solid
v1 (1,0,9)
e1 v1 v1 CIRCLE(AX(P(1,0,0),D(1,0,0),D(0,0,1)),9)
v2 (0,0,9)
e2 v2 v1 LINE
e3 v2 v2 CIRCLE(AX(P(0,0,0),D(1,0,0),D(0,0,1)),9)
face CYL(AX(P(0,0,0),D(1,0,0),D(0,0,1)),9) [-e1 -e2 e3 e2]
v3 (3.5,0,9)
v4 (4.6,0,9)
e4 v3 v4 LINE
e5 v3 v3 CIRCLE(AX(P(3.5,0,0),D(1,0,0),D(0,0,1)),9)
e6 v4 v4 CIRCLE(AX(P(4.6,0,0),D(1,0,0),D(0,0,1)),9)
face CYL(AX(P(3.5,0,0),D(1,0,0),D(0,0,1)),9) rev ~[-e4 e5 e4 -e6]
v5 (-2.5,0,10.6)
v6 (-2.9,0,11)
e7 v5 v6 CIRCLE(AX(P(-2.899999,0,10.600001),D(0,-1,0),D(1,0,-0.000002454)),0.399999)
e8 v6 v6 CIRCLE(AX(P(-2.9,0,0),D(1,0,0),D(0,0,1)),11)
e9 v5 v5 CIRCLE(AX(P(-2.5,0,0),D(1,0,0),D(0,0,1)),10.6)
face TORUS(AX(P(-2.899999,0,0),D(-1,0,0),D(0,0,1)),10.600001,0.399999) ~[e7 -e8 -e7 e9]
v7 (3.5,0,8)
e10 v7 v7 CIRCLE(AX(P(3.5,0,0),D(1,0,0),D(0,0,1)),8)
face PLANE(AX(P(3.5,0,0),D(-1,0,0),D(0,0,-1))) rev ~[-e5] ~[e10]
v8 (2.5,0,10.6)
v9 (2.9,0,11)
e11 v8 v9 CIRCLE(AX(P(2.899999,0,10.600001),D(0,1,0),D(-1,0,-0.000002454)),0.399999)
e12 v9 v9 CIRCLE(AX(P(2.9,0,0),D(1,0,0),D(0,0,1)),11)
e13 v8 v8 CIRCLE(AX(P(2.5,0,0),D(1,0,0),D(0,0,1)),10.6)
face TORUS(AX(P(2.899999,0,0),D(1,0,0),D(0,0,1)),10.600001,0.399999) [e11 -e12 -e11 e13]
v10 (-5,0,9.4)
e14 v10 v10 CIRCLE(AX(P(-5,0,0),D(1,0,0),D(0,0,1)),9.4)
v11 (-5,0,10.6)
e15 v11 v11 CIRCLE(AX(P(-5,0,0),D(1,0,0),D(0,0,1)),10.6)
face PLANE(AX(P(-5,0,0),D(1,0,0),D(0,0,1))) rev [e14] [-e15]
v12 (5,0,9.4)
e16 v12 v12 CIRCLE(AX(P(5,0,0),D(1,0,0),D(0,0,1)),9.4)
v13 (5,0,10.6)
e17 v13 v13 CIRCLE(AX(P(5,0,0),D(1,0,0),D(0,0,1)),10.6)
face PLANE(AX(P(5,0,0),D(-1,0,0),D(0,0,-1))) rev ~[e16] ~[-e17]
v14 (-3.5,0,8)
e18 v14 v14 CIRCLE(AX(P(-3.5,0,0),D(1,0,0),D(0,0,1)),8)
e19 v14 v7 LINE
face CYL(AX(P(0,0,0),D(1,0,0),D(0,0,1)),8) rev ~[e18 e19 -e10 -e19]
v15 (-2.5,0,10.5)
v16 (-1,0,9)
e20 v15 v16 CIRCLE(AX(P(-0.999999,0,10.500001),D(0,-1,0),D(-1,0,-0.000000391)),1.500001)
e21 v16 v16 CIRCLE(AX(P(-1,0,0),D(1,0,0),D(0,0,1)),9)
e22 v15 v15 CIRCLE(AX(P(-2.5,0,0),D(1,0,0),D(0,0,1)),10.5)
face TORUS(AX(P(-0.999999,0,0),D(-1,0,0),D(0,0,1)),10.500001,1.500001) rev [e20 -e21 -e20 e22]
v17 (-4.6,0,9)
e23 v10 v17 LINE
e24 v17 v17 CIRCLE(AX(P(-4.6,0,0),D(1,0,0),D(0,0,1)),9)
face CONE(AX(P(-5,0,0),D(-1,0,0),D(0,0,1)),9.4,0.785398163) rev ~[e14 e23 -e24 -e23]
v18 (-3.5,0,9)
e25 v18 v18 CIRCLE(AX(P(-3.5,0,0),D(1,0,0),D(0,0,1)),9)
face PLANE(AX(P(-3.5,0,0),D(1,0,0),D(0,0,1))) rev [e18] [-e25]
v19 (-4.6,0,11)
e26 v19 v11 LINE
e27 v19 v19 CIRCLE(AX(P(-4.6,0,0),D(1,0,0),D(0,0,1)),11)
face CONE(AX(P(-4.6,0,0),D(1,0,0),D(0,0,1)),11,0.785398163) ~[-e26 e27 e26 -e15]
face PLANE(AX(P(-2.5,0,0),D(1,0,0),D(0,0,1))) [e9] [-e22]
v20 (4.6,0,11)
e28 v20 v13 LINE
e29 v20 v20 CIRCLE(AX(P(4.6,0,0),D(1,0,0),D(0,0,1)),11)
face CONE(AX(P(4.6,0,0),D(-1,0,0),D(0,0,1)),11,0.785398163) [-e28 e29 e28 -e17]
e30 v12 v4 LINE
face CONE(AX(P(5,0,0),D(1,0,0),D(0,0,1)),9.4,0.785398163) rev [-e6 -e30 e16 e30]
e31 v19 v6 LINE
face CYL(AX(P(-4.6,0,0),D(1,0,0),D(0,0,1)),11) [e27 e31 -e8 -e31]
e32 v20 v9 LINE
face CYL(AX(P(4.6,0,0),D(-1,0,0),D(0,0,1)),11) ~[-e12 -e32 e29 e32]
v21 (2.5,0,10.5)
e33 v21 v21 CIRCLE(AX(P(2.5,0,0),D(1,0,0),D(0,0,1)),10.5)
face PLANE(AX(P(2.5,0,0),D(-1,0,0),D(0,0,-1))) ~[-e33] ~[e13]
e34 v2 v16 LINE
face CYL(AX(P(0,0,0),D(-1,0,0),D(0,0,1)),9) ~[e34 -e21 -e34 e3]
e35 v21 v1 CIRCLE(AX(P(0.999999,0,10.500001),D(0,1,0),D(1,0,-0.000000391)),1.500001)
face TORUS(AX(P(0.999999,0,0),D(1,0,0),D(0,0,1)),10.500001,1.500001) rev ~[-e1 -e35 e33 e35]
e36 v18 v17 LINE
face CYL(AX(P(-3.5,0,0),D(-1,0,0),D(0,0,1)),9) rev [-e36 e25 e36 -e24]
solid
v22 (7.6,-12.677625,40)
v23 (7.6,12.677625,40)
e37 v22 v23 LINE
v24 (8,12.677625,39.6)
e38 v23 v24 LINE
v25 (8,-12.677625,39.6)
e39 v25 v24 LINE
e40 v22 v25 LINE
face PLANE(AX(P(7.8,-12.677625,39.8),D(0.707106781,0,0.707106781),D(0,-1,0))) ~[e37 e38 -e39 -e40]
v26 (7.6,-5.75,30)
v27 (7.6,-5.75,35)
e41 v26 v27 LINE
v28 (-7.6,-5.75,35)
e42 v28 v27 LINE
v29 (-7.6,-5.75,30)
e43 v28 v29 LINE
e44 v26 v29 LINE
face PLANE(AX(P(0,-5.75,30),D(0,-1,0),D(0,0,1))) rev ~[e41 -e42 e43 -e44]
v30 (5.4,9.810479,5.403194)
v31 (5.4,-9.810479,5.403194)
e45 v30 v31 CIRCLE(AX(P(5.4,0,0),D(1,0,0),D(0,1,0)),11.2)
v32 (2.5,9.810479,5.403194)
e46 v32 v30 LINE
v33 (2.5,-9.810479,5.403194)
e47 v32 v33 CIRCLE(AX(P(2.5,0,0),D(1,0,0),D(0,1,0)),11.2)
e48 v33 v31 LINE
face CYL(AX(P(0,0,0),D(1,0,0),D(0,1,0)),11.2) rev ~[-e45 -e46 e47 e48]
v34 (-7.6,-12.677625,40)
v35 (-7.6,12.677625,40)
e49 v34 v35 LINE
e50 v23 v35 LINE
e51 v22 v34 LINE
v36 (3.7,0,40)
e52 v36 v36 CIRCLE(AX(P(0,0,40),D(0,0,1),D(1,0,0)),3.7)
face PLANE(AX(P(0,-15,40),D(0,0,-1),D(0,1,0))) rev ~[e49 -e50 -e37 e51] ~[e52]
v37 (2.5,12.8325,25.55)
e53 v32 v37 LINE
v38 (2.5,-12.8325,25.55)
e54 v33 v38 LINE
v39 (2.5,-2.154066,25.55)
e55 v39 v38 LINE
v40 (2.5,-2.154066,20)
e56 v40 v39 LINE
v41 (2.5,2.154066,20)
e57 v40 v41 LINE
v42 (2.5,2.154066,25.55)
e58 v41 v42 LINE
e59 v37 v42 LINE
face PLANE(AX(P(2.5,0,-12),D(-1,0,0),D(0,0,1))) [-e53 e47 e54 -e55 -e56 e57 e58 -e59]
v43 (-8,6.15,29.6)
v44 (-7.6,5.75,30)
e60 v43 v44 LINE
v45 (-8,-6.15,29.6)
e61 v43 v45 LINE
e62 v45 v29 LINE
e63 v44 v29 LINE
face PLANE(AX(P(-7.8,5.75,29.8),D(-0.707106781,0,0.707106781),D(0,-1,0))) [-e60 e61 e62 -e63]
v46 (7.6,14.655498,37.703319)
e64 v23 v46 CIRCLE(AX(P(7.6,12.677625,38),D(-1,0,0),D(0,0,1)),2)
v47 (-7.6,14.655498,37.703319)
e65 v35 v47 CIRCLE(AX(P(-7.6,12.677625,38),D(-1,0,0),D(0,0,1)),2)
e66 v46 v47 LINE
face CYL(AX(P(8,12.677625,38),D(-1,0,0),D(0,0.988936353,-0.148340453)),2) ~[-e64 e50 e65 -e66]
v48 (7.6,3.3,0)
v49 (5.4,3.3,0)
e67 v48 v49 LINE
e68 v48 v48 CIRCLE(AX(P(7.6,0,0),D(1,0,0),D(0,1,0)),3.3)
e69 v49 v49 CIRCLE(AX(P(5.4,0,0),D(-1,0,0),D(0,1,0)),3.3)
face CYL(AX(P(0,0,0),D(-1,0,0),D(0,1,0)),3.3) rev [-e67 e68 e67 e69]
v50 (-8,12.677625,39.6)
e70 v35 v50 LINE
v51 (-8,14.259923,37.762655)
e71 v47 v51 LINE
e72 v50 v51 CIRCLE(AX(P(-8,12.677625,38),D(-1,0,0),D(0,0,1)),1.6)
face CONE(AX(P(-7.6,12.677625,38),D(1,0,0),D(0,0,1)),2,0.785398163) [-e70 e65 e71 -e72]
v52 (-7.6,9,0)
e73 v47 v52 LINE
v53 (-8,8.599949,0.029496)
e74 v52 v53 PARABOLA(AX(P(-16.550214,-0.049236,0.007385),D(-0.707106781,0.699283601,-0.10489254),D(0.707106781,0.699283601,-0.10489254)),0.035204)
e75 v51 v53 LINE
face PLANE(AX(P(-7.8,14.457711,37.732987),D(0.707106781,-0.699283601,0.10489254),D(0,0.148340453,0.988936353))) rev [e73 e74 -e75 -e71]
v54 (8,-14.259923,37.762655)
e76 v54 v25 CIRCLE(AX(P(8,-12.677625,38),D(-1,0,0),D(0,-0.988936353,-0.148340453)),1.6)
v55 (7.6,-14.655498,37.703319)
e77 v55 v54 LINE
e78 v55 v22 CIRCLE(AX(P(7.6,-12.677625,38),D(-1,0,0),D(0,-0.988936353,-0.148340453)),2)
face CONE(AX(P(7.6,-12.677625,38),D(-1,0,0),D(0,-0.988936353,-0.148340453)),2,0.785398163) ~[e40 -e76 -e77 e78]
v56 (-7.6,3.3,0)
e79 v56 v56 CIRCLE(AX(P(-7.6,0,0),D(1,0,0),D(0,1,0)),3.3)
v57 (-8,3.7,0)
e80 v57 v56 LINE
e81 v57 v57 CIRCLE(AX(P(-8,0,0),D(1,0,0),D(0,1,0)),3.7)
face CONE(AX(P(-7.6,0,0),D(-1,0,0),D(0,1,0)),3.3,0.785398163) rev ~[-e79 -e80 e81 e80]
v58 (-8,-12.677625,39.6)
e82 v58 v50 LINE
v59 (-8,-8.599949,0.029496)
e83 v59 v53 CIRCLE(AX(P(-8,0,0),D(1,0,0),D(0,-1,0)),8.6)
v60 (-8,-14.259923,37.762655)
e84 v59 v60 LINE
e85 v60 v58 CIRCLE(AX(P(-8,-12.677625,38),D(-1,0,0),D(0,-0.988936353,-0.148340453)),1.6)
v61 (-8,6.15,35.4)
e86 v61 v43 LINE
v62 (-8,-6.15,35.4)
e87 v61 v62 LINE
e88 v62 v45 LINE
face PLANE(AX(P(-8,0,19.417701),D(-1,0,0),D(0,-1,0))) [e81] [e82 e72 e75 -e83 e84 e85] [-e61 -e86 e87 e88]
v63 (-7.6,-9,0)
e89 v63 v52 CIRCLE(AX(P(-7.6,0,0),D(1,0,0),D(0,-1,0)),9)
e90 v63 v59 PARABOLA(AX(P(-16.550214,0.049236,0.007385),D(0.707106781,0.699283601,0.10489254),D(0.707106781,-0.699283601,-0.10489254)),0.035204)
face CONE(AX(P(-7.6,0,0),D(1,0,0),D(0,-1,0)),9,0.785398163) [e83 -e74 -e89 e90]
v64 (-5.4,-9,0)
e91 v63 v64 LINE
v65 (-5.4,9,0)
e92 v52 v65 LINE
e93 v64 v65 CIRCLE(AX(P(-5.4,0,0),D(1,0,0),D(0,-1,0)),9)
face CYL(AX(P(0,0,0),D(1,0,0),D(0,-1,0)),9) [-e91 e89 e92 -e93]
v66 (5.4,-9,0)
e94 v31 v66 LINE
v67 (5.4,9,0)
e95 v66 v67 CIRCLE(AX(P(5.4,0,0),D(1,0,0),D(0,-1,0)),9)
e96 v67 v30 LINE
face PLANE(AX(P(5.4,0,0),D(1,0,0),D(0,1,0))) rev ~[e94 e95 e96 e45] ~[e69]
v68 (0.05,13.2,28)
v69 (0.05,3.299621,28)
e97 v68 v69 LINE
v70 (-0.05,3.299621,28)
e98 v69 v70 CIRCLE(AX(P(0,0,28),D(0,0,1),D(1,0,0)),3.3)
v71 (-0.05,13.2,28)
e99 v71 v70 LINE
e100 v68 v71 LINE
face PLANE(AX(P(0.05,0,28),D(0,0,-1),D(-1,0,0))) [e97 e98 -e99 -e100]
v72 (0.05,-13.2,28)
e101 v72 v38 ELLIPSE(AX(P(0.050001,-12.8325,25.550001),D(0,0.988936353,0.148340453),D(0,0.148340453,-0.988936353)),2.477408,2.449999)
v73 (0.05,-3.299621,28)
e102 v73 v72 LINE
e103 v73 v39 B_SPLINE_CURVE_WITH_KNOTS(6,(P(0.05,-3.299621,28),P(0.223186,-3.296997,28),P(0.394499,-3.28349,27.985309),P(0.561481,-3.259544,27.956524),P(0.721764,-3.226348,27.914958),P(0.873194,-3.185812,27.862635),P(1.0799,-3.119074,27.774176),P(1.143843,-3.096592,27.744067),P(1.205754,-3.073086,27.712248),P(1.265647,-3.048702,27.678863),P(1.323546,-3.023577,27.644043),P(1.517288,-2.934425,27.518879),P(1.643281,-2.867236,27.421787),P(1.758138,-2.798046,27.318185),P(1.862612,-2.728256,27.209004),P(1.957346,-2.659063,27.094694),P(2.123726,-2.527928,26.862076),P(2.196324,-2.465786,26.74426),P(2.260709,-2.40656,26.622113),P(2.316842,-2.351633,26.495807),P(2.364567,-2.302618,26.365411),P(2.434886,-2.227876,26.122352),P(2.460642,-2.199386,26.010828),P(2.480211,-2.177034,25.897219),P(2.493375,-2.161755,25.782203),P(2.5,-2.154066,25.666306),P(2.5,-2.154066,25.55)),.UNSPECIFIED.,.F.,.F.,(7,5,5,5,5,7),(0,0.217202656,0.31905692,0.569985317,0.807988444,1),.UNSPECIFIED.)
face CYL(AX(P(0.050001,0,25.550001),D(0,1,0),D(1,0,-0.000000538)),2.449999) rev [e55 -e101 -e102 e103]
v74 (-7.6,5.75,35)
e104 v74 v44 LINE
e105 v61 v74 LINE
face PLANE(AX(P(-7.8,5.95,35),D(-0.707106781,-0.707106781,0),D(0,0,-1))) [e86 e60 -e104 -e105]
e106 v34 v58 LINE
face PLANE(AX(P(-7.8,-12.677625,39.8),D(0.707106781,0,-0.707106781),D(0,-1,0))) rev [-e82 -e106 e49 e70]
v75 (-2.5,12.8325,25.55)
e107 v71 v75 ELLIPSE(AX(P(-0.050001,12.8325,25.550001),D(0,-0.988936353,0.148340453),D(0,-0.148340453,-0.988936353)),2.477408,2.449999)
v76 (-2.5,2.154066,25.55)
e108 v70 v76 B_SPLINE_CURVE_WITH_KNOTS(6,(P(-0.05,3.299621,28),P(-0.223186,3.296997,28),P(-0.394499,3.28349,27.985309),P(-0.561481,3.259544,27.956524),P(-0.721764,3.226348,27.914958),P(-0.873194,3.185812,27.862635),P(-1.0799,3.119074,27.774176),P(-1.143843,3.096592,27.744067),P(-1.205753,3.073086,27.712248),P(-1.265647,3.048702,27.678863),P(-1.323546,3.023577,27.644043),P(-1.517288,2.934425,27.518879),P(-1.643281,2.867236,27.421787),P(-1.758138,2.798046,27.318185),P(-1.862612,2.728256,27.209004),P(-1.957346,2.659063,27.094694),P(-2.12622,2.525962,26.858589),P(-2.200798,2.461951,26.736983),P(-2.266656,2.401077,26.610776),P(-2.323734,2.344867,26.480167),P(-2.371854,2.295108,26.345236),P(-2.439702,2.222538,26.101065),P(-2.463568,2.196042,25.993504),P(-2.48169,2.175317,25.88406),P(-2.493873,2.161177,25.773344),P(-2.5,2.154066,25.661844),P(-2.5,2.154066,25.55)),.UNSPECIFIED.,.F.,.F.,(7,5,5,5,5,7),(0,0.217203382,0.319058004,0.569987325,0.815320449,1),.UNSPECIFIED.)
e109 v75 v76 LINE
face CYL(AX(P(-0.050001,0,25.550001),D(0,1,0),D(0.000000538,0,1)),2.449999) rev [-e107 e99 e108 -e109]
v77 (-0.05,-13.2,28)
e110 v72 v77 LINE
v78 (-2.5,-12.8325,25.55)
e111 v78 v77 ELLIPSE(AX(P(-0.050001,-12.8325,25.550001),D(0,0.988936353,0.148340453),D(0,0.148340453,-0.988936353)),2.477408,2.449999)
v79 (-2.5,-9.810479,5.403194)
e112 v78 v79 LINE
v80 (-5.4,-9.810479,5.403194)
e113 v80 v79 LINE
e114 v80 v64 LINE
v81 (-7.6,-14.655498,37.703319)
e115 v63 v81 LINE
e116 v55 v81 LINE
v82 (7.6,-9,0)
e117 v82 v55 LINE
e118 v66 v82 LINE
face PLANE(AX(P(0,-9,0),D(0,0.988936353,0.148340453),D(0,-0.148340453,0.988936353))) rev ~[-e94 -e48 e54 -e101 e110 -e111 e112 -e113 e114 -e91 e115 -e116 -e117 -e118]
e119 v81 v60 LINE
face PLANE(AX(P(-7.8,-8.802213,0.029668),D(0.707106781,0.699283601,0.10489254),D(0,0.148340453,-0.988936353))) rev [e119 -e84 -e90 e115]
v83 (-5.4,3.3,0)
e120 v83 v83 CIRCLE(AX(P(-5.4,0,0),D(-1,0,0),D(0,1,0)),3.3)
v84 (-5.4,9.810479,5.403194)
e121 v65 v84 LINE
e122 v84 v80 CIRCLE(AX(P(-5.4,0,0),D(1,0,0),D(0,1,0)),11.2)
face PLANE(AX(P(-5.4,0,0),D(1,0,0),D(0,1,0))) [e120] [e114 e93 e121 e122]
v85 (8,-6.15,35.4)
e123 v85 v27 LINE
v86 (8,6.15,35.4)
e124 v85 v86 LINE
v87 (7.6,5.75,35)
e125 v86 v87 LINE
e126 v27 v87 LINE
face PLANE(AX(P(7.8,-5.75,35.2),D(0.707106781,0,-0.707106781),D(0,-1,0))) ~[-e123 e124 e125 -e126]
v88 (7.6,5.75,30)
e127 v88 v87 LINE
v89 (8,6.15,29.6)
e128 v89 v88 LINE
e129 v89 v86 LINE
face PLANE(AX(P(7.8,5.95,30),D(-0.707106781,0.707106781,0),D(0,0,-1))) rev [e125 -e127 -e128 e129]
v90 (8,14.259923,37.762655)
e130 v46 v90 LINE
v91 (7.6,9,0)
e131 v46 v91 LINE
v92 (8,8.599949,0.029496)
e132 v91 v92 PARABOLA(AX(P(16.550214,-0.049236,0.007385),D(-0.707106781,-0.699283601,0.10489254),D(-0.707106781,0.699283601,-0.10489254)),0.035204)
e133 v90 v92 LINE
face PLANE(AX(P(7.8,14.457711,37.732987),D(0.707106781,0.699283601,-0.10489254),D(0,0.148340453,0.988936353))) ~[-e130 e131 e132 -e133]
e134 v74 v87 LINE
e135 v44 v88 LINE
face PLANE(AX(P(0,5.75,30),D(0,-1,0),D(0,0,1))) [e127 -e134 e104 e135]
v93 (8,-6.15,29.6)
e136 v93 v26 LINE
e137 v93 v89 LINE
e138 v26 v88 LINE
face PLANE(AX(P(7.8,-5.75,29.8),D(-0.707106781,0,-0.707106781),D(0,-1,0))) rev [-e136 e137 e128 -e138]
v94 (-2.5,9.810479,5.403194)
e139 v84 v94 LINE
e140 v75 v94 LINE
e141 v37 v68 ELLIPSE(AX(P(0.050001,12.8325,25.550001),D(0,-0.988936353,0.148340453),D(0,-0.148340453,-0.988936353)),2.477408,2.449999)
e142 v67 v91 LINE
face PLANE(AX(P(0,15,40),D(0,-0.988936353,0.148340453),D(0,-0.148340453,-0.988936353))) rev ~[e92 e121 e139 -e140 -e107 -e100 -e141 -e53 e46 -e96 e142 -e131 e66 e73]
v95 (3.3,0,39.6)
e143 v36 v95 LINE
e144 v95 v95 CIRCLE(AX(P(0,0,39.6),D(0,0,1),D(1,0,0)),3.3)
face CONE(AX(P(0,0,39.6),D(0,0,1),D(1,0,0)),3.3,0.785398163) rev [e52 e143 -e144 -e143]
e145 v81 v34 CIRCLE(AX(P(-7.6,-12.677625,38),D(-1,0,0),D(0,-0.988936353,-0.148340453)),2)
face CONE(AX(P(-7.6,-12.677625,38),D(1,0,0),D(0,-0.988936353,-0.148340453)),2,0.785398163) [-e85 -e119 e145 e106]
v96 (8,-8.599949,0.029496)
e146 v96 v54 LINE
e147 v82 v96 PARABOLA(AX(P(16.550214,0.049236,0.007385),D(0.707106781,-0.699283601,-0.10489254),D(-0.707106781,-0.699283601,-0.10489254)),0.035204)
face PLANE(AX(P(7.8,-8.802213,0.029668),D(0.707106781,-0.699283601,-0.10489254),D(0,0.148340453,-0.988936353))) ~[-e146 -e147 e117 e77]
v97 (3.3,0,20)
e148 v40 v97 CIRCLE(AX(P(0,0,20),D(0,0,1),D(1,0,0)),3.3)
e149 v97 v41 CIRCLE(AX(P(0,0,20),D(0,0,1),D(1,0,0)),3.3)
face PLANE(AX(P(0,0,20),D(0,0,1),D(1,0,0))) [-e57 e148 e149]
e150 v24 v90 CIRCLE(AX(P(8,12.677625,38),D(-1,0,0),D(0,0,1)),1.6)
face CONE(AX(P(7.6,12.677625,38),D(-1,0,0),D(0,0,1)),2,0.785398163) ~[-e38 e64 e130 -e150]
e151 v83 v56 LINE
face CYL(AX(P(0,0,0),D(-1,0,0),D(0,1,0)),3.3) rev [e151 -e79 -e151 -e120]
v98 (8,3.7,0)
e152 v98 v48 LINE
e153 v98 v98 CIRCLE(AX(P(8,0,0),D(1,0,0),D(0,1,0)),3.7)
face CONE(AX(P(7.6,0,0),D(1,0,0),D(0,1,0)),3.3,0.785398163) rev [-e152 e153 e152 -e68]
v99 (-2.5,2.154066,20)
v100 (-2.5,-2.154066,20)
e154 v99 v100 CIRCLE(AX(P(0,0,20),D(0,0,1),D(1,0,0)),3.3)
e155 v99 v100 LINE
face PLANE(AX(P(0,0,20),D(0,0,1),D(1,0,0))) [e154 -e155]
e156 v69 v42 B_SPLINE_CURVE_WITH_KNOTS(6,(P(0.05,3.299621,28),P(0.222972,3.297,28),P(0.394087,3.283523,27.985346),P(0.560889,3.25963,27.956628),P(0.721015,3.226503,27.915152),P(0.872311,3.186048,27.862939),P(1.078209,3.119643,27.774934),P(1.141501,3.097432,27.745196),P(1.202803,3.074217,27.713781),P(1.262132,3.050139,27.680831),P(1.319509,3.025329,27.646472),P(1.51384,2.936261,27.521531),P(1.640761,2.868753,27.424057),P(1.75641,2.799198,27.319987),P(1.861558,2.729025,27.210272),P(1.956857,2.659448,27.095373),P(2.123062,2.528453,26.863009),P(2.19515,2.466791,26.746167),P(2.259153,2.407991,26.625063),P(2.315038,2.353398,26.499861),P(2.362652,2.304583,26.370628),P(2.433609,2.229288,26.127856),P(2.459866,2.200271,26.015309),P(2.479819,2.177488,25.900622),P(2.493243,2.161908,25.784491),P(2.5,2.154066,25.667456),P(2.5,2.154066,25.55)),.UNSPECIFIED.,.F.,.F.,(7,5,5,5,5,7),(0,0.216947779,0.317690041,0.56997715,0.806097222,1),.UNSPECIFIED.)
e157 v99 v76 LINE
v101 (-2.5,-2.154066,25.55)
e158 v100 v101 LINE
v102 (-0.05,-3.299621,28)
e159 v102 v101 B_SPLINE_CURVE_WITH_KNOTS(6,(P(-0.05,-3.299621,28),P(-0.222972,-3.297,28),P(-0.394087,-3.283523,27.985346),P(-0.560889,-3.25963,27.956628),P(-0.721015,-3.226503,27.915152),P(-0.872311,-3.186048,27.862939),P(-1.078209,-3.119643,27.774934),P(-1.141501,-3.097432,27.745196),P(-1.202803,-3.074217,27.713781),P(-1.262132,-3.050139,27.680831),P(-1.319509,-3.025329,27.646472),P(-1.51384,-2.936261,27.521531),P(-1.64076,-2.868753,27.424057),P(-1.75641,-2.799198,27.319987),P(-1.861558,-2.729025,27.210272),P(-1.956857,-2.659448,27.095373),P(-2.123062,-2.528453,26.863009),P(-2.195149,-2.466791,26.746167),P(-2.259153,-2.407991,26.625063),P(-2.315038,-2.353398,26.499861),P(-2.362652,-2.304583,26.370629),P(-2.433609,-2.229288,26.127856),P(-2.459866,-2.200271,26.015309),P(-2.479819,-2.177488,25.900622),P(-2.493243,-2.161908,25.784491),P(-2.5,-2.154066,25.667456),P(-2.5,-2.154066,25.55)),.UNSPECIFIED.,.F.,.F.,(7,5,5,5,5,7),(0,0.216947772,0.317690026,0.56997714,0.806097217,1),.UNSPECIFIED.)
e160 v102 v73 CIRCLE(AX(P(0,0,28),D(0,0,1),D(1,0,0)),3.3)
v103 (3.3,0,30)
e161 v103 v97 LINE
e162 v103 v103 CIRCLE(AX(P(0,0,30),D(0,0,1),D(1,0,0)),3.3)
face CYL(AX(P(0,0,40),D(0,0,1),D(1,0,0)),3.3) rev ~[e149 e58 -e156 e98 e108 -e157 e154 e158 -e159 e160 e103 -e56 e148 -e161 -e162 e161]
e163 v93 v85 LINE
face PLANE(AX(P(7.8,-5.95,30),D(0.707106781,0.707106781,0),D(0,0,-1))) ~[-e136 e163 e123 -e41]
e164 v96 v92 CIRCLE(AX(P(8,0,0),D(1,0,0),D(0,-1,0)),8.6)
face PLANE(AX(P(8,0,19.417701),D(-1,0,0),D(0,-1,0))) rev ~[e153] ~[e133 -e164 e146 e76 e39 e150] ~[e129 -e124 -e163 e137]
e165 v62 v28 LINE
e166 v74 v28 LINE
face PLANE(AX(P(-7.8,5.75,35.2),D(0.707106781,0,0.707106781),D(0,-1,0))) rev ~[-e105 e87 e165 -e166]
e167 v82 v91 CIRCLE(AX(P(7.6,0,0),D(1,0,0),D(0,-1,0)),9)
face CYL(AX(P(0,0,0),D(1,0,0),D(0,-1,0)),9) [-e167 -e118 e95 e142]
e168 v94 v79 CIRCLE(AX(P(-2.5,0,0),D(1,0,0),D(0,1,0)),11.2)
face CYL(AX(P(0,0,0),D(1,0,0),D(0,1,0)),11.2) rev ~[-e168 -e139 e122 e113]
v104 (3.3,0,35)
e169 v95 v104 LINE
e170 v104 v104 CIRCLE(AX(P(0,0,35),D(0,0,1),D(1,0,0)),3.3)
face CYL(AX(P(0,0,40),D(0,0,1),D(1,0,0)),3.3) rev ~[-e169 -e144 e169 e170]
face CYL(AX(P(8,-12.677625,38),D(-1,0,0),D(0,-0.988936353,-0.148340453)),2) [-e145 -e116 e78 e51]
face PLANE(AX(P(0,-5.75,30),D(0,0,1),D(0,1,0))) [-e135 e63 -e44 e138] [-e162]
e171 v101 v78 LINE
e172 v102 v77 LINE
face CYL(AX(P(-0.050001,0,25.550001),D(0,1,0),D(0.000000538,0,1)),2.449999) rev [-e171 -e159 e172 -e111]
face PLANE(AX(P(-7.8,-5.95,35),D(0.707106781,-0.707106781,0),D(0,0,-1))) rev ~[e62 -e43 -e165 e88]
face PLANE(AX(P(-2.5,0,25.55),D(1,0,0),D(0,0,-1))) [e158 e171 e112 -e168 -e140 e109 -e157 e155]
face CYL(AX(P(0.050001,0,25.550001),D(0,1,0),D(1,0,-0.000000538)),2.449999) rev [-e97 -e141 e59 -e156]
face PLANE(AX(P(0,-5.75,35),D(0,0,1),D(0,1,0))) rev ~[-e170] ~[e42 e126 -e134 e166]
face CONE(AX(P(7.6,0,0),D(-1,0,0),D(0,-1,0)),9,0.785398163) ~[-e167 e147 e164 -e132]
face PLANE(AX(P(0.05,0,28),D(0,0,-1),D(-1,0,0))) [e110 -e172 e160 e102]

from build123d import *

# Parameters (mm, degrees)
SKETCH002_R          = 3.3
PAD_DEPTH            = 8
POCKET_DEPTH         = 15.001
POCKET_DEPTH_BACK    = -15.001
SKETCH003_R          = 11.2
POCKET001_DEPTH      = 5.4
SKETCH004_R          = 3.3
POCKET002_DEPTH      = 20
SKETCH005_W          = 11.5
SKETCH005_H          = 5
POCKET003_DEPTH      = 8.001
POCKET003_DEPTH_BACK = -8.001
FILLET_R             = 2
CHAMFER_SIZE         = 0.4


with BuildPart() as sheave:
    # Sketch → Revolution (revolve)
    with BuildSketch(Plane.XZ):
        with BuildLine():
            Line((0, 8), (-3.5, 8))
            Line((-3.5, 8), (-3.5, 9))
            Line((-3.5, 9), (-4.6, 9))
            Line((-5, 9.4), (-4.6, 9))
            Line((-5, 9.4), (-5, 10.6))
            Line((-4.6, 11), (-5, 10.6))
            Line((-4.6, 11), (-2.9, 11))
            ThreePointArc((-2.5, 10.6), (-2.617157, 10.882843), (-2.9, 11))
            Line((-2.5, 10.6), (-2.5, 10.5))
            ThreePointArc((-2.5, 10.5), (-2.06066, 9.43934), (-1, 9))
            Line((0, 9), (-1, 9))
            Line((0, 9), (0, 8))
        make_face()
    revolution = revolve(axis=Axis((0, 0, 0), (1, 0, 0)))

    # Mirrored: Revolution across Sketch V_Axis
    add(revolution.mirror(Plane(origin=(0, 0, 0), x_dir=(0, -1, 0), z_dir=(1, 0, 0))))


with BuildPart() as bracket:
    # Sketch002 → Pad (new body, symmetric)
    with BuildSketch(Plane.YZ):
        with BuildLine():
            Line((-9, 0), (-15, 40))
            Line((-15, 40), (15, 40))
            Line((15, 40), (9, 0))
            ThreePointArc((-9, 0), (0, -9), (9, 0))
        make_face()
        Circle(SKETCH002_R, mode=Mode.SUBTRACT)
    extrude(amount=PAD_DEPTH, both=True)

    # Sketch001 → Pocket (cut, two sides)
    with BuildSketch(Plane.XZ) as pocket_sk:
        with BuildLine():
            Line((-2.5, 25.55), (-2.5, -12))
            Line((-2.5, -12), (2.5, -12))
            Line((2.5, -12), (2.5, 25.55))
            ThreePointArc((2.5, 25.55), (1.782412, 27.282412), (0.05, 28))
            Line((0.05, 28), (-0.05, 28))
            ThreePointArc((-0.05, 28), (-1.782412, 27.282412), (-2.5, 25.55))
        make_face()
    extrude(amount=-POCKET_DEPTH, mode=Mode.SUBTRACT)
    extrude(pocket_sk.sketch, amount=-POCKET_DEPTH_BACK, mode=Mode.SUBTRACT)

    # Sketch003 → Pocket001 (cut, symmetric)
    with BuildSketch(Plane.YZ):
        Circle(SKETCH003_R)
    extrude(amount=POCKET001_DEPTH, both=True, mode=Mode.SUBTRACT)

    # Sketch004 (on Face3 of Pocket001) → Pocket002 (cut)
    with BuildSketch(Plane.XY.offset(40)):
        Circle(SKETCH004_R)
    extrude(amount=-POCKET002_DEPTH, mode=Mode.SUBTRACT)

    # Sketch005 → Pocket003 (cut, two sides)
    with BuildSketch(Plane.YZ) as pocket003_sk:
        with Locations((0, 32.5)):
            Rectangle(SKETCH005_W, SKETCH005_H)
    extrude(amount=-POCKET003_DEPTH, mode=Mode.SUBTRACT)
    extrude(pocket003_sk.sketch, amount=-POCKET003_DEPTH_BACK, mode=Mode.SUBTRACT)

    # Fillet
    fillet_edges = [bracket.edges().sort_by_distance(p)[0] for p in [
        (0, -15, 40),
        (0, 15, 40),
    ]]
    fillet(fillet_edges, radius=FILLET_R)

    # Chamfer
    chamfer_edges = [bracket.edges().sort_by_distance(p)[0] for p in [
        (8, -11.827749, 18.85166),
        (8, -14.193106, 39.305113),
        (8, 0, -9),
        (8, 0, 40),
        (8, 11.827749, 18.85166),
        (8, 14.193106, 39.305113),
        (8, -3.3, 0),
        (8, -5.75, 32.5),
        (8, 0, 30),
        (8, 5.75, 32.5),
        (8, 0, 35),
        (-8, -11.827749, 18.85166),
        (-8, -14.193106, 39.305113),
        (-8, 0, -9),
        (-8, 0, 40),
        (-8, 11.827749, 18.85166),
        (-8, 14.193106, 39.305113),
        (-8, -3.3, 0),
        (-8, -5.75, 32.5),
        (-8, 0, 30),
        (-8, 5.75, 32.5),
        (-8, 0, 35),
        (-3.3, 0, 40),
    ]]
    chamfer(chamfer_edges, length=CHAMFER_SIZE)


solid = Compound([sheave.part, bracket.part])
